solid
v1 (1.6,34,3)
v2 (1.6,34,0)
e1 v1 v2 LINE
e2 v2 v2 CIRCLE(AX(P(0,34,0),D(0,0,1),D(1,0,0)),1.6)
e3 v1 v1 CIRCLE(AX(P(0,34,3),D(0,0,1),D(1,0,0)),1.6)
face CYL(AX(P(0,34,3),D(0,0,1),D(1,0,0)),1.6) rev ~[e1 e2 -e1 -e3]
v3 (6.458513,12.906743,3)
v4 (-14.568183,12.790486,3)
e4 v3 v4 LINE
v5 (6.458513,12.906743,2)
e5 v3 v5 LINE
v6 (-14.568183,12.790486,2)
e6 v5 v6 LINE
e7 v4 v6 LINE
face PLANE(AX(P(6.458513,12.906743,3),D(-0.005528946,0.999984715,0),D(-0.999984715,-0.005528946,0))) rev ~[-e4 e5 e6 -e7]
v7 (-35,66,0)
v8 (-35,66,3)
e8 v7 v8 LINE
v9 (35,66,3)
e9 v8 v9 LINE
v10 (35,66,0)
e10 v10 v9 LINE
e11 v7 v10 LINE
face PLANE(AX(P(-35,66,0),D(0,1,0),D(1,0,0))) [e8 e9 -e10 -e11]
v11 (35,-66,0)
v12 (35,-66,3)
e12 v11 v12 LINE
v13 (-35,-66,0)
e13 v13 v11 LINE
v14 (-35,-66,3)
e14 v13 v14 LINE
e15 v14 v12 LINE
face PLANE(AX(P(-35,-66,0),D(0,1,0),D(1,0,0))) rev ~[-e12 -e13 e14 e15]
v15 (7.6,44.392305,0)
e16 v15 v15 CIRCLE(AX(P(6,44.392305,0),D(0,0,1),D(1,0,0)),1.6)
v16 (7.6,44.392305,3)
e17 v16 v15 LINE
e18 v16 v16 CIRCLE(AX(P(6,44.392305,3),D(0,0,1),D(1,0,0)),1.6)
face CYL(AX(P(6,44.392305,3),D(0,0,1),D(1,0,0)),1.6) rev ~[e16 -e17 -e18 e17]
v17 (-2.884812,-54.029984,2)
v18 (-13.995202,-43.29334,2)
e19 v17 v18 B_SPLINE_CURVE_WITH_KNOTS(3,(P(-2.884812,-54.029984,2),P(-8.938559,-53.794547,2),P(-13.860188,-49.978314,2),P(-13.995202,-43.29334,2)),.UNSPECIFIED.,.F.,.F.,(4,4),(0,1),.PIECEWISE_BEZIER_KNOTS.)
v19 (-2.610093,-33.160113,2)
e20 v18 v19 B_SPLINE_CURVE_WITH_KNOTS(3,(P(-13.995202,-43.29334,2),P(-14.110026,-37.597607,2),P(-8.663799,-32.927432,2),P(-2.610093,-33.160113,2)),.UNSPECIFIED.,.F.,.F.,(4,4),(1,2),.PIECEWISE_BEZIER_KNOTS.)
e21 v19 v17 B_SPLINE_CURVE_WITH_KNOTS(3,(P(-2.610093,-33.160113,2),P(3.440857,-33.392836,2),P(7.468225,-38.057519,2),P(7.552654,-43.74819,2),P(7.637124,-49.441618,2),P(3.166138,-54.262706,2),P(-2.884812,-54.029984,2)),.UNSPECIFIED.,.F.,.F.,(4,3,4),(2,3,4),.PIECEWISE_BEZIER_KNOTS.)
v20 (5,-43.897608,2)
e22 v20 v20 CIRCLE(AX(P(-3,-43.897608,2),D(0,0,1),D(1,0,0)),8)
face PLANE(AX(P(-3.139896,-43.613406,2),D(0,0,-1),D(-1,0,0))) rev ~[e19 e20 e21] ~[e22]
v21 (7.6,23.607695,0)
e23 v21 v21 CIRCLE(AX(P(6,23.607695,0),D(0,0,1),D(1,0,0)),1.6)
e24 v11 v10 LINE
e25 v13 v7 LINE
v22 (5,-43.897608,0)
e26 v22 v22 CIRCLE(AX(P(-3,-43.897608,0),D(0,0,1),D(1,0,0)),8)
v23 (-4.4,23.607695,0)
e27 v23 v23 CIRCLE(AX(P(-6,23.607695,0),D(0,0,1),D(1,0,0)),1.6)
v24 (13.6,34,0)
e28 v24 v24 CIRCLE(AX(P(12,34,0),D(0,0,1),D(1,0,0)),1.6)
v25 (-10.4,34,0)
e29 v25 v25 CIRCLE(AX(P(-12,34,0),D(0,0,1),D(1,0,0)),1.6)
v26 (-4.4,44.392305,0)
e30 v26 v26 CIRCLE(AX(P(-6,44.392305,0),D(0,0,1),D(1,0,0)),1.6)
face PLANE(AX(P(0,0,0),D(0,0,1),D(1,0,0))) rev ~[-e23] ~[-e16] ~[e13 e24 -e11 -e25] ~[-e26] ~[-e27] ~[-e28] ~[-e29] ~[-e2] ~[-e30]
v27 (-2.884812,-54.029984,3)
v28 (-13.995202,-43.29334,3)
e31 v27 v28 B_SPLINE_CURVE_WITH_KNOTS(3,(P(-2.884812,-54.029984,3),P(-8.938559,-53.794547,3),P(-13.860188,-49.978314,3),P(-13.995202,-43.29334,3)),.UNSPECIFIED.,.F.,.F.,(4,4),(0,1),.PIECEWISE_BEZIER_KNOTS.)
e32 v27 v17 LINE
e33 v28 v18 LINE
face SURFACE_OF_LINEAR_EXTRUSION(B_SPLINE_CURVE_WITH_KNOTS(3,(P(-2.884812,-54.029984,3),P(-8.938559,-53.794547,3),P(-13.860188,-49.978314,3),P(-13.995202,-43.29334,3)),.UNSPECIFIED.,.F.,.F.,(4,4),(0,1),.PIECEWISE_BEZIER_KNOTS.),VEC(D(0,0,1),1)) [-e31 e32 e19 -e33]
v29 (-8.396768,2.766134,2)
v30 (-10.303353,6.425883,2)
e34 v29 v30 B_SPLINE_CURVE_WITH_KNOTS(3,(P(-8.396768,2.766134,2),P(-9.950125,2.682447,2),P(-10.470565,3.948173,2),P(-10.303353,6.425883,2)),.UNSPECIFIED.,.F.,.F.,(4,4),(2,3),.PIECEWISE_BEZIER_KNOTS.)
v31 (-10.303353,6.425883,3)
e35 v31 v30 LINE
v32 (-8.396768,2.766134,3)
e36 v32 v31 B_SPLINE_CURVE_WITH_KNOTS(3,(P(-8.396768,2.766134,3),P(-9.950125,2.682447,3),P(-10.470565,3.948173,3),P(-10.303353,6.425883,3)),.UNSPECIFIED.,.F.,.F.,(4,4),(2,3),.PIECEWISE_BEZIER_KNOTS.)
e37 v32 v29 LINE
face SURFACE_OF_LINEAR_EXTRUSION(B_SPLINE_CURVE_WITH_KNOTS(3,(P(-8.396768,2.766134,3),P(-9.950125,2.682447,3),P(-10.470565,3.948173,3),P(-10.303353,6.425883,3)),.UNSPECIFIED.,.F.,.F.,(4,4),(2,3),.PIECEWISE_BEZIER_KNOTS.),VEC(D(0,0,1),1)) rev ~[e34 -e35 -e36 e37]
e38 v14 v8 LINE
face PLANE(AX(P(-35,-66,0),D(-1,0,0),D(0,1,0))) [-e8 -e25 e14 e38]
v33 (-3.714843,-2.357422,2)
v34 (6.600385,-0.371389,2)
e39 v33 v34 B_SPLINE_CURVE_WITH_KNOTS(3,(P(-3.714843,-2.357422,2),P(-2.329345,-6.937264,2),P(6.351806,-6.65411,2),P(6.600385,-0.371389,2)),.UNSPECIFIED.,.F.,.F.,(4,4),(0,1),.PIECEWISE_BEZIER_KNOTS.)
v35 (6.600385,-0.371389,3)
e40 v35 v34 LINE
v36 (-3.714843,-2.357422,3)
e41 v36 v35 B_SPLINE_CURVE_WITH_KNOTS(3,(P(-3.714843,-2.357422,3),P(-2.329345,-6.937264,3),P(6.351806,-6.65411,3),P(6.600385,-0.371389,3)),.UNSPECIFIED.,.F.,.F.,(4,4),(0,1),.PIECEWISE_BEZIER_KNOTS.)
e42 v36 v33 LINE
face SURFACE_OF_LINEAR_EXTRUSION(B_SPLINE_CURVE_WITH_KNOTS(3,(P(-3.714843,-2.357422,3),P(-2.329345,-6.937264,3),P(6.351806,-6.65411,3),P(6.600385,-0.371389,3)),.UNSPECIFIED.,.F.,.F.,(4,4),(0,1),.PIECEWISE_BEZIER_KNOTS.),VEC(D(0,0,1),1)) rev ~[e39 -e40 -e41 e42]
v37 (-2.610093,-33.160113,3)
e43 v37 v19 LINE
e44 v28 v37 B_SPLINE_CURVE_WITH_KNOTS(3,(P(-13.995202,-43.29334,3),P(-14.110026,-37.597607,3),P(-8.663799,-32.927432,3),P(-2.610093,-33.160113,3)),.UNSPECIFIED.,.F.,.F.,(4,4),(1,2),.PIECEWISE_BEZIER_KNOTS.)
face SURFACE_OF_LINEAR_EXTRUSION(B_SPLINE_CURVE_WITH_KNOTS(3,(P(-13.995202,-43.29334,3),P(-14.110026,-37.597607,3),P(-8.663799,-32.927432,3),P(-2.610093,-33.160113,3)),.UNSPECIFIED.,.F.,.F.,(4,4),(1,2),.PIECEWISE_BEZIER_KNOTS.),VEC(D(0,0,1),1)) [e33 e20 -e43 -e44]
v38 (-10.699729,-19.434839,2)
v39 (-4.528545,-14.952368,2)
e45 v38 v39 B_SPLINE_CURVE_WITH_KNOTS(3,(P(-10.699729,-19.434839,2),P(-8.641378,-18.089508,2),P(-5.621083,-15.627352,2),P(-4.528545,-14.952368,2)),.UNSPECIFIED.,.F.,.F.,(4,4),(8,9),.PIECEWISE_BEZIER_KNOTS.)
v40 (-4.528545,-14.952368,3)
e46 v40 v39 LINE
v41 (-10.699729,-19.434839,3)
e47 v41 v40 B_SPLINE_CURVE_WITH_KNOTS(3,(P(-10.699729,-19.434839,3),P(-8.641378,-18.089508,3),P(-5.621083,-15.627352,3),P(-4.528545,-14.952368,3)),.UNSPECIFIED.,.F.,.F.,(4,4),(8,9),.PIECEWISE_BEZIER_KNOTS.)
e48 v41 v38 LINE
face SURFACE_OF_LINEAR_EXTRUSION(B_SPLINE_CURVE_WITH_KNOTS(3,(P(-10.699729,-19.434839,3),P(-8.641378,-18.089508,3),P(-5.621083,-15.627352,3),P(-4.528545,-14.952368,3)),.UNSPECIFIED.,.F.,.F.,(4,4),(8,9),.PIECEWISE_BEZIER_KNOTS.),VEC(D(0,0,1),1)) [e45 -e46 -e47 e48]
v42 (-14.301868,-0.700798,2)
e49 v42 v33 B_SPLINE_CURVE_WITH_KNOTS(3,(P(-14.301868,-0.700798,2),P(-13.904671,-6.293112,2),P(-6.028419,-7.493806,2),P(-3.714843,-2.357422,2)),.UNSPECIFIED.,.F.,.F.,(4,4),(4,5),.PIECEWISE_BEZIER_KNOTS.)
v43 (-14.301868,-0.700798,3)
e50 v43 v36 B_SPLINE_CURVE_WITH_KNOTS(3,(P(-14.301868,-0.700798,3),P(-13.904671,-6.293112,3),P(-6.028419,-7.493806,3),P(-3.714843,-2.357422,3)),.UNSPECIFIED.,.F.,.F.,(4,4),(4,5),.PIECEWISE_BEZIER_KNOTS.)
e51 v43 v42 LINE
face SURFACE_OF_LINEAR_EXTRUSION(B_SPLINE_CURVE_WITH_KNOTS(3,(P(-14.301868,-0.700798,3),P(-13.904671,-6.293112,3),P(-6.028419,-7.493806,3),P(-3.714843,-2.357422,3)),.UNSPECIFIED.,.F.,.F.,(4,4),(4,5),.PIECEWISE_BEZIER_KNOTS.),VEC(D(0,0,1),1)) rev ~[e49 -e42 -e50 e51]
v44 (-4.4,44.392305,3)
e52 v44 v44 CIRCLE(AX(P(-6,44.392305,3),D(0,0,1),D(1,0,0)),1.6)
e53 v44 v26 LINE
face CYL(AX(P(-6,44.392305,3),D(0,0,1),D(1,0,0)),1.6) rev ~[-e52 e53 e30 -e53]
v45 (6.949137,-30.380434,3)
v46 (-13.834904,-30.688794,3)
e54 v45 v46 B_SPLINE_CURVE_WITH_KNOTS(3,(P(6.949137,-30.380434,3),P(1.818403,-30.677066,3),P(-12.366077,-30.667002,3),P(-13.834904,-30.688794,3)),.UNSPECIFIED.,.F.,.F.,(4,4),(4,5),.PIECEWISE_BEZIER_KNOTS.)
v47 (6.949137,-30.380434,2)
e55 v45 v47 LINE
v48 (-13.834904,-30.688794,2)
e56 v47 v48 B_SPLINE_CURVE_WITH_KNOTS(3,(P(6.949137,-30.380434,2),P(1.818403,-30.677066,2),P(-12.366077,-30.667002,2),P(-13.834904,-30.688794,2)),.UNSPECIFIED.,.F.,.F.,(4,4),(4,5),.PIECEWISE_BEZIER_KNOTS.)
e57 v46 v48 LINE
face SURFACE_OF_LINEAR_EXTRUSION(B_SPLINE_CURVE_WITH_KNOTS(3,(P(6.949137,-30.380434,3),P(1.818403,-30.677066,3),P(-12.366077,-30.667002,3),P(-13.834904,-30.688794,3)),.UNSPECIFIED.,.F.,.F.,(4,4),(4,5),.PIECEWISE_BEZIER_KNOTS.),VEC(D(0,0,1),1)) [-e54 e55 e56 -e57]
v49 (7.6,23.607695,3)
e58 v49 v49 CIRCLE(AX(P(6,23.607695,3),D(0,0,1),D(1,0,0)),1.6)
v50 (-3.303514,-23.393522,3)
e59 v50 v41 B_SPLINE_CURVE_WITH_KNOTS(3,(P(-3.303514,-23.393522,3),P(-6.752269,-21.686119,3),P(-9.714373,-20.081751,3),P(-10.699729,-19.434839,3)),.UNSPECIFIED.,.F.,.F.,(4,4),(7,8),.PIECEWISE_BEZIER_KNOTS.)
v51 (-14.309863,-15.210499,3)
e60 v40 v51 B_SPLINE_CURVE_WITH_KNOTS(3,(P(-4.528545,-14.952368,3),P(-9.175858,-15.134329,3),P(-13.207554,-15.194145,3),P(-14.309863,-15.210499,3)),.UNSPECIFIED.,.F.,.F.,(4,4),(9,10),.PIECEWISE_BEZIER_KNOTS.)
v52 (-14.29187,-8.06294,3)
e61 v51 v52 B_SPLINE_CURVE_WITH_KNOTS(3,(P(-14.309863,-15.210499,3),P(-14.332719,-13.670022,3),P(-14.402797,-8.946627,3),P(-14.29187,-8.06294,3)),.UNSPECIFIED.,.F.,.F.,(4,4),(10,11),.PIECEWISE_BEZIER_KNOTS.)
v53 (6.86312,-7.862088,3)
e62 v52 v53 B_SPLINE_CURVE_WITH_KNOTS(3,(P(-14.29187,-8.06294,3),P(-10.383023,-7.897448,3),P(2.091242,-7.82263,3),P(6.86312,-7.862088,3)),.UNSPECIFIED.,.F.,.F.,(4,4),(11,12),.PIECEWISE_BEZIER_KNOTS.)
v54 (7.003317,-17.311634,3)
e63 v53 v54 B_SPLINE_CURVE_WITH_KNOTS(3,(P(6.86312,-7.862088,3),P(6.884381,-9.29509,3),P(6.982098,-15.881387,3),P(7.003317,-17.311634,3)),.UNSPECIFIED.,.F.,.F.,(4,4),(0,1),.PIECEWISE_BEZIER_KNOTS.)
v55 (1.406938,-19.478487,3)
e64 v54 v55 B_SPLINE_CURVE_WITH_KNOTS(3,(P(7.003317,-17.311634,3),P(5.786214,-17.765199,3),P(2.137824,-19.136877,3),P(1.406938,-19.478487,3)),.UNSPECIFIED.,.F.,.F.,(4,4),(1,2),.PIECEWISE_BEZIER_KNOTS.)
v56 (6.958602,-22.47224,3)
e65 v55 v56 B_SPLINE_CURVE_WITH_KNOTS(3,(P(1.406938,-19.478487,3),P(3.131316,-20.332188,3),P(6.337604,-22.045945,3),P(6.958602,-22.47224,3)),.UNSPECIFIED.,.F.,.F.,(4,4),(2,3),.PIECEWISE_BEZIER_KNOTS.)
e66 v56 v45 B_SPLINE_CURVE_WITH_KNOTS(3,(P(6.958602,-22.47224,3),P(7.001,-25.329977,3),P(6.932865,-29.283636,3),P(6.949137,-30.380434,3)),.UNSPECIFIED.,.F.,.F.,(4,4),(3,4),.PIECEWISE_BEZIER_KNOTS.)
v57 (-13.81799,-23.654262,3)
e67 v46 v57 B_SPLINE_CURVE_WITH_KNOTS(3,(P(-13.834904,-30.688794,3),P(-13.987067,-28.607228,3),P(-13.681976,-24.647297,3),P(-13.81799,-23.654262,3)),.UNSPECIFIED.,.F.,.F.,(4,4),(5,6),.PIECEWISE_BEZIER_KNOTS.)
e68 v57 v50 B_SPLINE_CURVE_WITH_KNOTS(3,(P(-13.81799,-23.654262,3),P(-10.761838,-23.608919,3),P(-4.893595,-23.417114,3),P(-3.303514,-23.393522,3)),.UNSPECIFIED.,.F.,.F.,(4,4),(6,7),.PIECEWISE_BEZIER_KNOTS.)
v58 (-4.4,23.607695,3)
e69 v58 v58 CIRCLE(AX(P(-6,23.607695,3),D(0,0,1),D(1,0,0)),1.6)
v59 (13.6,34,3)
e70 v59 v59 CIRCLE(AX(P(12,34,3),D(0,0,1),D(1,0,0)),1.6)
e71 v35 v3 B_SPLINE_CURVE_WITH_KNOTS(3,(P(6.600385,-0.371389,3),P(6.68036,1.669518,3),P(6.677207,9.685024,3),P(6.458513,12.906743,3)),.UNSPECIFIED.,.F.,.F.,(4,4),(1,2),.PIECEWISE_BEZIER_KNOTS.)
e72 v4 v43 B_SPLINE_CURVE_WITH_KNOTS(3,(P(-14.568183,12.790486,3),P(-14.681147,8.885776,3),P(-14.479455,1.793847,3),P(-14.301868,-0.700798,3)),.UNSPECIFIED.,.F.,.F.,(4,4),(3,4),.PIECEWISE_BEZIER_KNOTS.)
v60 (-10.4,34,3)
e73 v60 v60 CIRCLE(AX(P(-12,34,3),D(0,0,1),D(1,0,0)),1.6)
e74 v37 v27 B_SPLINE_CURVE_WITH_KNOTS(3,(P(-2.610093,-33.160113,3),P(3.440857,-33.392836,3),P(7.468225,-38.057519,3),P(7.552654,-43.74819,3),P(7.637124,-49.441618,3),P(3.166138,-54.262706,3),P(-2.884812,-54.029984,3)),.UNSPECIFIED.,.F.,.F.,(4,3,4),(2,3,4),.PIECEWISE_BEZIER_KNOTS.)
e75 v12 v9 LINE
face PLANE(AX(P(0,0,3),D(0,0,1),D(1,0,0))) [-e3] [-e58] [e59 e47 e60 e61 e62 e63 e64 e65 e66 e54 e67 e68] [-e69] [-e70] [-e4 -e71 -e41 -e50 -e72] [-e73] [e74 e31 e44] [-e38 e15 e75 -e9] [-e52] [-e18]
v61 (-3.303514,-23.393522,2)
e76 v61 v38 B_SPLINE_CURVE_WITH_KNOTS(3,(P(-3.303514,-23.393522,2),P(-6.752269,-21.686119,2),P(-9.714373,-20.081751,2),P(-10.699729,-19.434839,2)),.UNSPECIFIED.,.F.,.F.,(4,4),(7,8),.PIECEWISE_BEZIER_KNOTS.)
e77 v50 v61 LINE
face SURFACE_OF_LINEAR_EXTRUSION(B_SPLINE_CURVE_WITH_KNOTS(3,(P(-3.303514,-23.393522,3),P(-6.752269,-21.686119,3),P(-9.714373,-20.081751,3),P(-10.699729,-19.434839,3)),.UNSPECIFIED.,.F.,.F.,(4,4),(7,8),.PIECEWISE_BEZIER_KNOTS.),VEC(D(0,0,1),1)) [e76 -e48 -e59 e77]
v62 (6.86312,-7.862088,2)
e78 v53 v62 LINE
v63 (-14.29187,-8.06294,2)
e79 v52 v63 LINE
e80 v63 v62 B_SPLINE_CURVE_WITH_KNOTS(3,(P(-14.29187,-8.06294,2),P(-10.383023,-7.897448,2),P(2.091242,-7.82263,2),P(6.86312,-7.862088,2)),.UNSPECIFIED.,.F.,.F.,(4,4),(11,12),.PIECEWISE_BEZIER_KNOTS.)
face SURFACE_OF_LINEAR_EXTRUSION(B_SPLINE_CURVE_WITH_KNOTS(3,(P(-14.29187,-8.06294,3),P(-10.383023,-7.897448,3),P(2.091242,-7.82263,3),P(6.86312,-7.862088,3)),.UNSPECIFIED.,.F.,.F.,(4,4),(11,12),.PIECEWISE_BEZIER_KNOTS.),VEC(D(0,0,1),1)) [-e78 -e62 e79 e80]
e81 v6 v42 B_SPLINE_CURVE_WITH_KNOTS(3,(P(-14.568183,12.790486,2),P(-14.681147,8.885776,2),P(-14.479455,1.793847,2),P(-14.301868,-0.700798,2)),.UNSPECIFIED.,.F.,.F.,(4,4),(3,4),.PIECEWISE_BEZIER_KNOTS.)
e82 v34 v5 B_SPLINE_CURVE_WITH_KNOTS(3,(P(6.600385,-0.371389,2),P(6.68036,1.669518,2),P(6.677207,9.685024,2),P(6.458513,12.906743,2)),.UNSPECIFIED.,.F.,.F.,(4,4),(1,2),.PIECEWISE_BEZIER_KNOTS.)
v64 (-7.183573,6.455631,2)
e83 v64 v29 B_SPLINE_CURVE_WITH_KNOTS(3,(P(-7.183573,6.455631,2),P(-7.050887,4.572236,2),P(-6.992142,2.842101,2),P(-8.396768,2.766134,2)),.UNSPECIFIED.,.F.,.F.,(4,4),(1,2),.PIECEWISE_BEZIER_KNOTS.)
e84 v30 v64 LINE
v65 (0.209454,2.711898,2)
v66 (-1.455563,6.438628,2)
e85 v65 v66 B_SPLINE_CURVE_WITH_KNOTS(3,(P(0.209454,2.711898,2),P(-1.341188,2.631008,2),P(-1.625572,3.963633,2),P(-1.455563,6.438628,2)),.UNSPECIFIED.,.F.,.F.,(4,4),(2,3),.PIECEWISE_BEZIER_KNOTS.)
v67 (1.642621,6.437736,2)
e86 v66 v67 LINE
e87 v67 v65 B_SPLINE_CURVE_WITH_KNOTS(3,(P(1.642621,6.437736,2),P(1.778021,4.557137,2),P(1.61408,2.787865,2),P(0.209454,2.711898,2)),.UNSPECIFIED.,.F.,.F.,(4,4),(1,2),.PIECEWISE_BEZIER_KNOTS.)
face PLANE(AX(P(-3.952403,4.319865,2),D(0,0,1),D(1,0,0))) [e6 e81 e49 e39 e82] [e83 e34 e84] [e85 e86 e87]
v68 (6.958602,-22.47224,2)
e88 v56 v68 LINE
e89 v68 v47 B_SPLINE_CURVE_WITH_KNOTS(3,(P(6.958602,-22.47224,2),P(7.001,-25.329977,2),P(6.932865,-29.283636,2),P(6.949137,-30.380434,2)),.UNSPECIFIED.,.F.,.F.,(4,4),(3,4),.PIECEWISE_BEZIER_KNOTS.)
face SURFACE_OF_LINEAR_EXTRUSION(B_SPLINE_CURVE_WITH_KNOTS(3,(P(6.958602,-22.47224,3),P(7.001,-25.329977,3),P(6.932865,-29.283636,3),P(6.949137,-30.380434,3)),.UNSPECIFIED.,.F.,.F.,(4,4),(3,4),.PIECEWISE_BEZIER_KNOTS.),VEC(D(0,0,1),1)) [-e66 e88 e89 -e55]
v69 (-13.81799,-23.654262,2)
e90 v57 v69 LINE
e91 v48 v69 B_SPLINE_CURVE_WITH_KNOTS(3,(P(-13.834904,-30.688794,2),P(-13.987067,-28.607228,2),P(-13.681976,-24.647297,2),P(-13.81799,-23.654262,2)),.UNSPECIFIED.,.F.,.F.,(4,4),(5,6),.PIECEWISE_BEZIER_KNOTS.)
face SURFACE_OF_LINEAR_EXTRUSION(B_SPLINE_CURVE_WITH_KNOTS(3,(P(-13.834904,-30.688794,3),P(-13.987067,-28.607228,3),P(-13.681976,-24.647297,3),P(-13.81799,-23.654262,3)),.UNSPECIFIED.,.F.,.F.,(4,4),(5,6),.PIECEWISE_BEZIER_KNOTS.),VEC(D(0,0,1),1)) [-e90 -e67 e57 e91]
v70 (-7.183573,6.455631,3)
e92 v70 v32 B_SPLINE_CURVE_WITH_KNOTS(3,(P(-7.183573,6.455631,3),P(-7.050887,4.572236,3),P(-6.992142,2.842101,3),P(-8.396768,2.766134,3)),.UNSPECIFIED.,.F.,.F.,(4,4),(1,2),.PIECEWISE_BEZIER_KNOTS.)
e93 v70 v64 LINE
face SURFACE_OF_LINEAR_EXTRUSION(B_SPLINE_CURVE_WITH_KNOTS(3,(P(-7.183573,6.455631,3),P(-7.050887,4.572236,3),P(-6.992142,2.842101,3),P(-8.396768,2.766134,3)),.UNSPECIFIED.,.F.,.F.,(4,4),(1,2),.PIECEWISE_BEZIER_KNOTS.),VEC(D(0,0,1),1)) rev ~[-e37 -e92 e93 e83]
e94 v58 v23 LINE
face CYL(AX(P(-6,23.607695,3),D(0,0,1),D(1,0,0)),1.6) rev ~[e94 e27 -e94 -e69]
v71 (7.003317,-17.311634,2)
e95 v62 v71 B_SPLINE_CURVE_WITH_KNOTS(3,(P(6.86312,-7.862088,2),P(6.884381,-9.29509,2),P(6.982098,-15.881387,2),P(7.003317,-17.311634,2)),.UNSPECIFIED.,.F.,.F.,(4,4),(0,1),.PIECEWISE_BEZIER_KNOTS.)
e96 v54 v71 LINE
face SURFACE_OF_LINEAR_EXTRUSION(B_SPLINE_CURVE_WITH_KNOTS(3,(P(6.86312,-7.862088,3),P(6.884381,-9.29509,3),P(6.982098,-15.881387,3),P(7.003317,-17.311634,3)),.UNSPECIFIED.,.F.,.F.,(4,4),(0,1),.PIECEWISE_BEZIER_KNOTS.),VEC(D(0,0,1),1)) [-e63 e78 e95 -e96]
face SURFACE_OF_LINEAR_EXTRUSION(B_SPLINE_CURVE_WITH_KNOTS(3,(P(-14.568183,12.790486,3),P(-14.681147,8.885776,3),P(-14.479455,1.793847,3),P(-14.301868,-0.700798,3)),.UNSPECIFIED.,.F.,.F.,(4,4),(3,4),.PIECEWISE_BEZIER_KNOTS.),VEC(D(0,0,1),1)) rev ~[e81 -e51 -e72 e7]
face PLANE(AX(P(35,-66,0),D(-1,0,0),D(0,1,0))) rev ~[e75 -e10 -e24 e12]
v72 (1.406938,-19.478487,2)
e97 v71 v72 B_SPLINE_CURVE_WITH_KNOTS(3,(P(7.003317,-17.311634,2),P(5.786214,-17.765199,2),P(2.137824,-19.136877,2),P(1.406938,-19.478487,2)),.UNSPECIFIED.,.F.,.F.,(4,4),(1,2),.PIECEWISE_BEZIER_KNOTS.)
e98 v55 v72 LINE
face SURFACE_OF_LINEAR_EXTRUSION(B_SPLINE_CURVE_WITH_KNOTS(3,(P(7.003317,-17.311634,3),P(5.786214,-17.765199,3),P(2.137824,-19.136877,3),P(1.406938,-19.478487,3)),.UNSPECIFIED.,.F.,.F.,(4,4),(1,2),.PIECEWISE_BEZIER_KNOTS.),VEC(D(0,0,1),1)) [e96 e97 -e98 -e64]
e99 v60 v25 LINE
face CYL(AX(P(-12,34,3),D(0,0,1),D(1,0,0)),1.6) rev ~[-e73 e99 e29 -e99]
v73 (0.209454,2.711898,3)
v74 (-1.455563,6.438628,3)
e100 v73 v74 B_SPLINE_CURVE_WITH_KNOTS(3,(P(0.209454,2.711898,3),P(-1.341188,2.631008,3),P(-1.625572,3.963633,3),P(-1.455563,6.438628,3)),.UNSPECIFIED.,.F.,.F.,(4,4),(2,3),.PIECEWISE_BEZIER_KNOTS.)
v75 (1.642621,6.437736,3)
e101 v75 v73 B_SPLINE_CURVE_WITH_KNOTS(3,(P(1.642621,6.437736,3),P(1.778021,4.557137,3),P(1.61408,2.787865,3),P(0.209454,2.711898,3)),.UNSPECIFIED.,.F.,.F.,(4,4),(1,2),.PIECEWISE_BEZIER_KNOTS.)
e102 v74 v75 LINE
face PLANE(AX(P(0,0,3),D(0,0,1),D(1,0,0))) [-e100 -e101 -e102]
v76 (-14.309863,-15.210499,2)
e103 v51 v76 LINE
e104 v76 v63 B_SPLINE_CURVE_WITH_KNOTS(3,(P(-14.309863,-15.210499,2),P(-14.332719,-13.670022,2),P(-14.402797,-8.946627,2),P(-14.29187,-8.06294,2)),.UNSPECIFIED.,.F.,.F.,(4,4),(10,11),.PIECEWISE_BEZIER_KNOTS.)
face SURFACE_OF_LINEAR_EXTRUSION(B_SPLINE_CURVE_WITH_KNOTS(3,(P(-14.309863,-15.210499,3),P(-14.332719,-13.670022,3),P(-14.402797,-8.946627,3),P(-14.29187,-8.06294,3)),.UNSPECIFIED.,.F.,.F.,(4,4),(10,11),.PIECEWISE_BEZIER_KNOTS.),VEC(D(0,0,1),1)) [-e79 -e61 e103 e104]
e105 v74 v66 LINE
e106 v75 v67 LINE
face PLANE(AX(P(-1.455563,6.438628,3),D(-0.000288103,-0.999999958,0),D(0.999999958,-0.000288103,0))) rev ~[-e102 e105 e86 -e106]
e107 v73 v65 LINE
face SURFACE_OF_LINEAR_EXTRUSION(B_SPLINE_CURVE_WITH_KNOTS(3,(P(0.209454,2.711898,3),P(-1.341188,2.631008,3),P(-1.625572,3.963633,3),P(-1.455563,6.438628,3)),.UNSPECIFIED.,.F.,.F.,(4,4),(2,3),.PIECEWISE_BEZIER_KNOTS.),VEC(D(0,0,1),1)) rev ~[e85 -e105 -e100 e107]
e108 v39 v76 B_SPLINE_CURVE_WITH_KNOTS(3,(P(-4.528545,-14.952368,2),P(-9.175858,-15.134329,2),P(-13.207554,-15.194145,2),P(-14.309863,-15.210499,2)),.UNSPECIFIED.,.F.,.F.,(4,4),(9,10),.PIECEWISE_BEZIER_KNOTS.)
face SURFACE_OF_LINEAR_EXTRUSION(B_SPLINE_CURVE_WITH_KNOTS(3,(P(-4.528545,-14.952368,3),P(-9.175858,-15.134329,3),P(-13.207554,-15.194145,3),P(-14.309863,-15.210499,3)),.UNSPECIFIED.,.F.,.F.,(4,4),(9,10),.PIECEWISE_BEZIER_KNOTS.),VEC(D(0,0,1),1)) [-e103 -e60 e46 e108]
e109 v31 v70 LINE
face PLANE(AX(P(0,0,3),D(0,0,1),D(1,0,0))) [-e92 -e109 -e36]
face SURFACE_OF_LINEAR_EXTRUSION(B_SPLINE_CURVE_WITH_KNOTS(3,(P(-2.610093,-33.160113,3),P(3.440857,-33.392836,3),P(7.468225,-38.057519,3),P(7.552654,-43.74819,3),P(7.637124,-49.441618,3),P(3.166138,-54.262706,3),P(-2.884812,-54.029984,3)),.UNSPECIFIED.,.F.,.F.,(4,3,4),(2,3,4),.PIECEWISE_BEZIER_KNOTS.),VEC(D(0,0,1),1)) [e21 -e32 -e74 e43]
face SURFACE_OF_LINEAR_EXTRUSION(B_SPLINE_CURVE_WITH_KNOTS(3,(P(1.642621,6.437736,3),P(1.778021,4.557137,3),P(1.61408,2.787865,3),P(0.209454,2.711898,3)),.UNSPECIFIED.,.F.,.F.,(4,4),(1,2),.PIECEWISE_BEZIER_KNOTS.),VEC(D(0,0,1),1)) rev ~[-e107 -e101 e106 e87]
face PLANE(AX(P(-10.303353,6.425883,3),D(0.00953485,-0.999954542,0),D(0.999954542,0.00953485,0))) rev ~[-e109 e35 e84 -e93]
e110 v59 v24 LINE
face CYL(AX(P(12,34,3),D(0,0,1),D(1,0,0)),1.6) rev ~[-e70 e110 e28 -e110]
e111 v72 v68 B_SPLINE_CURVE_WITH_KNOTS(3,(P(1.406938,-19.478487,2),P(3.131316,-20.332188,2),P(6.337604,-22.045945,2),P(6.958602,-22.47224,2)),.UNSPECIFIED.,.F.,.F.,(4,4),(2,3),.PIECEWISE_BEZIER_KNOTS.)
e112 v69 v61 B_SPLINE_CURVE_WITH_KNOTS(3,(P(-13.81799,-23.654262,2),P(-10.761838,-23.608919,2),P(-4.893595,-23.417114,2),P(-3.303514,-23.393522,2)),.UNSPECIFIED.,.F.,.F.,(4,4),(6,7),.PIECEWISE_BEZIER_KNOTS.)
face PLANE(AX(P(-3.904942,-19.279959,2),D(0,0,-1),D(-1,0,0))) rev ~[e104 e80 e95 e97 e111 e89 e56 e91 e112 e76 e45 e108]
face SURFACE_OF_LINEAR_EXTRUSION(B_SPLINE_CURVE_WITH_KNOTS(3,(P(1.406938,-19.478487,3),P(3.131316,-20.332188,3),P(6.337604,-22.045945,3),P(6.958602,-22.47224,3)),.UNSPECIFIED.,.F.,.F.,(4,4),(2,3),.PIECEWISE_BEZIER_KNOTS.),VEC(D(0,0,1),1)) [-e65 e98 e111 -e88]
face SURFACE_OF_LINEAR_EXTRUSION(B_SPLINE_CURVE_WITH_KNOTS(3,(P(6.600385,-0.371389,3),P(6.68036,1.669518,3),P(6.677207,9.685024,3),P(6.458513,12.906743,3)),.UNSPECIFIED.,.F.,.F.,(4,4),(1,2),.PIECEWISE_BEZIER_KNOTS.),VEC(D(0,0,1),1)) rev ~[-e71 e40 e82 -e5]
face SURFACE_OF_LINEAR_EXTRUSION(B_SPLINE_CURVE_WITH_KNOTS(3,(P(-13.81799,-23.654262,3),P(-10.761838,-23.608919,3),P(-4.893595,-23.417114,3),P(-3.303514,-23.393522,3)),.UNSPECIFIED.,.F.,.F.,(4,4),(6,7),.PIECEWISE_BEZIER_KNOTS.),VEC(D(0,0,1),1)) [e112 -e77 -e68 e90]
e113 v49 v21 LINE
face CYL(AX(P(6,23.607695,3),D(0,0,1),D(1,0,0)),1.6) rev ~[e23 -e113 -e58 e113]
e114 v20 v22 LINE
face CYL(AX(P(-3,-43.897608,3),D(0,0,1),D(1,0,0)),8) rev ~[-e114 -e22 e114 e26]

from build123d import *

# Parameters (mm, degrees)
SKETCH1_W           = 70
SKETCH1_H           = 132
BOSS_EXTRUDE1_DEPTH = 3
SKETCH2_R           = 1.6
SKETCH2_R_2         = 8
CUT_EXTRUDE1_DEPTH  = 75.76630257
CUT_EXTRUDE4_DEPTH  = 1


with BuildPart() as part:
    # Sketch1 → Boss-Extrude1 (new body)
    with BuildSketch(Plane.XY):
        Rectangle(SKETCH1_W, SKETCH1_H)
    extrude(amount=BOSS_EXTRUDE1_DEPTH)

    # Sketch2 → Cut-Extrude1 (cut, through all)
    with BuildSketch(Plane.XY.offset(3)):
        with Locations((0, 34)):
            Circle(SKETCH2_R)
        with Locations((12, 34)):
            Circle(SKETCH2_R)
        with Locations((6, 23.607695155)):
            Circle(SKETCH2_R)
        with Locations((-6, 23.607695155)):
            Circle(SKETCH2_R)
        with Locations((-12, 34)):
            Circle(SKETCH2_R)
        with Locations((-6, 44.392304845)):
            Circle(SKETCH2_R)
        with Locations((6, 44.392304845)):
            Circle(SKETCH2_R)
        with Locations((-3, -43.897608135)):
            Circle(SKETCH2_R_2)
    extrude(amount=-CUT_EXTRUDE1_DEPTH, mode=Mode.SUBTRACT)

    # Sketch4 → Cut-Extrude4 (cut)
    # profile 1 of 3: a face of its own
    with BuildSketch(Plane.XY.offset(3)):
        with BuildLine():
            Line((6.45851265, 12.906743281), (-14.568183267, 12.79048604))
            add(Edge.make_bspline(
                [(-14.568183267, 12.79048604), (-14.681147025, 8.885776406), (-14.479455132, 1.79384743), (-14.301868244, -0.700797834)],
                knots=[3, 3, 3, 3, 4, 4, 4, 4], degree=3))
            add(Edge.make_bspline(
                [(-14.301868244, -0.700797834), (-13.90467122, -6.293112042), (-6.02841872, -7.493806409), (-3.714842898, -2.357422472)],
                knots=[4, 4, 4, 4, 5, 5, 5, 5], degree=3))
            add(Edge.make_bspline(
                [(-3.714842898, -2.357422472), (-2.329345092, -6.937264415), (6.351806367, -6.654110228), (6.60038457, -0.371389262)],
                knots=[0, 0, 0, 0, 1, 1, 1, 1], degree=3))
            add(Edge.make_bspline(
                [(6.60038457, -0.371389262), (6.680360064, 1.669518266), (6.677206871, 9.68502366), (6.45851265, 12.906743281)],
                knots=[1, 1, 1, 1, 2, 2, 2, 2], degree=3))
        make_face()
        with BuildLine():
            Line((-10.303353065, 6.425883244), (-7.183572594, 6.455631236))
            add(Edge.make_bspline(
                [(-7.183572594, 6.455631236), (-7.050887386, 4.572236089), (-6.992141879, 2.842101206), (-8.396768449, 2.766134029)],
                knots=[1, 1, 1, 1, 2, 2, 2, 2], degree=3))
            add(Edge.make_bspline(
                [(-8.396768449, 2.766134029), (-9.950124995, 2.682447476), (-10.470564902, 3.948173451), (-10.303353065, 6.425883244)],
                knots=[2, 2, 2, 2, 3, 3, 3, 3], degree=3))
        make_face(mode=Mode.SUBTRACT)
        with BuildLine():
            Line((-1.455563307, 6.43862815), (1.642620722, 6.437735553))
            add(Edge.make_bspline(
                [(1.642620722, 6.437735553), (1.778020818, 4.557137064), (1.614080218, 2.787865388), (0.209453648, 2.711898211)],
                knots=[1, 1, 1, 1, 2, 2, 2, 2], degree=3))
            add(Edge.make_bspline(
                [(0.209453648, 2.711898211), (-1.341188011, 2.631008317), (-1.625571802, 3.963633245), (-1.455563307, 6.43862815)],
                knots=[2, 2, 2, 2, 3, 3, 3, 3], degree=3))
        make_face(mode=Mode.SUBTRACT)
    # profile 2 of 3: a face of its own
    with BuildSketch(Plane.XY.offset(3)):
        with BuildLine():
            add(Edge.make_bspline(
                [(-2.610093021, -33.160113435), (3.440856804, -33.392835626), (7.468225103, -38.057518842), (7.552654108, -43.748190308), (7.637123998, -49.441617546), (3.166137779, -54.262705816), (-2.884812046, -54.029983625)],
                knots=[2, 2, 2, 2, 3, 3, 3, 4, 4, 4, 4], degree=3))
            add(Edge.make_bspline(
                [(-2.884812046, -54.029983625), (-8.938558529, -53.794546546), (-13.860187809, -49.978313982), (-13.995201607, -43.29333994)],
                knots=[0, 0, 0, 0, 1, 1, 1, 1], degree=3))
            add(Edge.make_bspline(
                [(-13.995201607, -43.29333994), (-14.110025888, -37.597606671), (-8.663798619, -32.927432129), (-2.610093021, -33.160113435)],
                knots=[1, 1, 1, 1, 2, 2, 2, 2], degree=3))
        make_face()
    # profile 3 of 3: a face of its own
    with BuildSketch(Plane.XY.offset(3)):
        with BuildLine():
            add(Edge.make_bspline(
                [(-14.291870327, -8.062939687), (-10.383022832, -7.897447705), (2.091241678, -7.822629876), (6.863120355, -7.862087625)],
                knots=[11, 11, 11, 11, 12, 12, 12, 12], degree=3))
            add(Edge.make_bspline(
                [(6.863120355, -7.862087625), (6.884380927, -9.29508964), (6.98209779, -15.881387365), (7.003317477, -17.311633608)],
                knots=[0, 0, 0, 0, 1, 1, 1, 1], degree=3))
            add(Edge.make_bspline(
                [(7.003317477, -17.311633608), (5.78621416, -17.765199017), (2.137823528, -19.13687745), (1.406938394, -19.47848671)],
                knots=[1, 1, 1, 1, 2, 2, 2, 2], degree=3))
            add(Edge.make_bspline(
                [(1.406938394, -19.47848671), (3.131316037, -20.332188301), (6.337604175, -22.045945199), (6.958601521, -22.472239835)],
                knots=[2, 2, 2, 2, 3, 3, 3, 3], degree=3))
            add(Edge.make_bspline(
                [(6.958601521, -22.472239835), (7.001000009, -25.329976547), (6.932864564, -29.283635925), (6.949137079, -30.380433621)],
                knots=[3, 3, 3, 3, 4, 4, 4, 4], degree=3))
            add(Edge.make_bspline(
                [(6.949137079, -30.380433621), (1.818402638, -30.67706556), (-12.366076626, -30.667001608), (-13.834903692, -30.688793695)],
                knots=[4, 4, 4, 4, 5, 5, 5, 5], degree=3))
            add(Edge.make_bspline(
                [(-13.834903692, -30.688793695), (-13.98706731, -28.607228198), (-13.681976263, -24.647296875), (-13.817990024, -23.654261755)],
                knots=[5, 5, 5, 5, 6, 6, 6, 6], degree=3))
            add(Edge.make_bspline(
                [(-13.817990024, -23.654261755), (-10.761837648, -23.608919496), (-4.893594588, -23.417113542), (-3.303513506, -23.393522483)],
                knots=[6, 6, 6, 6, 7, 7, 7, 7], degree=3))
            add(Edge.make_bspline(
                [(-3.303513506, -23.393522483), (-6.752268792, -21.686119301), (-9.714372582, -20.081751157), (-10.699728834, -19.434839155)],
                knots=[7, 7, 7, 7, 8, 8, 8, 8], degree=3))
            add(Edge.make_bspline(
                [(-10.699728834, -19.434839155), (-8.641378398, -18.089507553), (-5.621082796, -15.627352279), (-4.528545239, -14.952368219)],
                knots=[8, 8, 8, 8, 9, 9, 9, 9], degree=3))
            add(Edge.make_bspline(
                [(-4.528545239, -14.952368219), (-9.175858156, -15.134329121), (-13.207554211, -15.194144924), (-14.309863454, -15.21049921)],
                knots=[9, 9, 9, 9, 10, 10, 10, 10], degree=3))
            add(Edge.make_bspline(
                [(-14.309863454, -15.21049921), (-14.332718569, -13.670022044), (-14.402796688, -8.946626939), (-14.291870327, -8.062939687)],
                knots=[10, 10, 10, 10, 11, 11, 11, 11], degree=3))
        make_face()
    extrude(amount=-CUT_EXTRUDE4_DEPTH, mode=Mode.SUBTRACT)


solid = part.part
